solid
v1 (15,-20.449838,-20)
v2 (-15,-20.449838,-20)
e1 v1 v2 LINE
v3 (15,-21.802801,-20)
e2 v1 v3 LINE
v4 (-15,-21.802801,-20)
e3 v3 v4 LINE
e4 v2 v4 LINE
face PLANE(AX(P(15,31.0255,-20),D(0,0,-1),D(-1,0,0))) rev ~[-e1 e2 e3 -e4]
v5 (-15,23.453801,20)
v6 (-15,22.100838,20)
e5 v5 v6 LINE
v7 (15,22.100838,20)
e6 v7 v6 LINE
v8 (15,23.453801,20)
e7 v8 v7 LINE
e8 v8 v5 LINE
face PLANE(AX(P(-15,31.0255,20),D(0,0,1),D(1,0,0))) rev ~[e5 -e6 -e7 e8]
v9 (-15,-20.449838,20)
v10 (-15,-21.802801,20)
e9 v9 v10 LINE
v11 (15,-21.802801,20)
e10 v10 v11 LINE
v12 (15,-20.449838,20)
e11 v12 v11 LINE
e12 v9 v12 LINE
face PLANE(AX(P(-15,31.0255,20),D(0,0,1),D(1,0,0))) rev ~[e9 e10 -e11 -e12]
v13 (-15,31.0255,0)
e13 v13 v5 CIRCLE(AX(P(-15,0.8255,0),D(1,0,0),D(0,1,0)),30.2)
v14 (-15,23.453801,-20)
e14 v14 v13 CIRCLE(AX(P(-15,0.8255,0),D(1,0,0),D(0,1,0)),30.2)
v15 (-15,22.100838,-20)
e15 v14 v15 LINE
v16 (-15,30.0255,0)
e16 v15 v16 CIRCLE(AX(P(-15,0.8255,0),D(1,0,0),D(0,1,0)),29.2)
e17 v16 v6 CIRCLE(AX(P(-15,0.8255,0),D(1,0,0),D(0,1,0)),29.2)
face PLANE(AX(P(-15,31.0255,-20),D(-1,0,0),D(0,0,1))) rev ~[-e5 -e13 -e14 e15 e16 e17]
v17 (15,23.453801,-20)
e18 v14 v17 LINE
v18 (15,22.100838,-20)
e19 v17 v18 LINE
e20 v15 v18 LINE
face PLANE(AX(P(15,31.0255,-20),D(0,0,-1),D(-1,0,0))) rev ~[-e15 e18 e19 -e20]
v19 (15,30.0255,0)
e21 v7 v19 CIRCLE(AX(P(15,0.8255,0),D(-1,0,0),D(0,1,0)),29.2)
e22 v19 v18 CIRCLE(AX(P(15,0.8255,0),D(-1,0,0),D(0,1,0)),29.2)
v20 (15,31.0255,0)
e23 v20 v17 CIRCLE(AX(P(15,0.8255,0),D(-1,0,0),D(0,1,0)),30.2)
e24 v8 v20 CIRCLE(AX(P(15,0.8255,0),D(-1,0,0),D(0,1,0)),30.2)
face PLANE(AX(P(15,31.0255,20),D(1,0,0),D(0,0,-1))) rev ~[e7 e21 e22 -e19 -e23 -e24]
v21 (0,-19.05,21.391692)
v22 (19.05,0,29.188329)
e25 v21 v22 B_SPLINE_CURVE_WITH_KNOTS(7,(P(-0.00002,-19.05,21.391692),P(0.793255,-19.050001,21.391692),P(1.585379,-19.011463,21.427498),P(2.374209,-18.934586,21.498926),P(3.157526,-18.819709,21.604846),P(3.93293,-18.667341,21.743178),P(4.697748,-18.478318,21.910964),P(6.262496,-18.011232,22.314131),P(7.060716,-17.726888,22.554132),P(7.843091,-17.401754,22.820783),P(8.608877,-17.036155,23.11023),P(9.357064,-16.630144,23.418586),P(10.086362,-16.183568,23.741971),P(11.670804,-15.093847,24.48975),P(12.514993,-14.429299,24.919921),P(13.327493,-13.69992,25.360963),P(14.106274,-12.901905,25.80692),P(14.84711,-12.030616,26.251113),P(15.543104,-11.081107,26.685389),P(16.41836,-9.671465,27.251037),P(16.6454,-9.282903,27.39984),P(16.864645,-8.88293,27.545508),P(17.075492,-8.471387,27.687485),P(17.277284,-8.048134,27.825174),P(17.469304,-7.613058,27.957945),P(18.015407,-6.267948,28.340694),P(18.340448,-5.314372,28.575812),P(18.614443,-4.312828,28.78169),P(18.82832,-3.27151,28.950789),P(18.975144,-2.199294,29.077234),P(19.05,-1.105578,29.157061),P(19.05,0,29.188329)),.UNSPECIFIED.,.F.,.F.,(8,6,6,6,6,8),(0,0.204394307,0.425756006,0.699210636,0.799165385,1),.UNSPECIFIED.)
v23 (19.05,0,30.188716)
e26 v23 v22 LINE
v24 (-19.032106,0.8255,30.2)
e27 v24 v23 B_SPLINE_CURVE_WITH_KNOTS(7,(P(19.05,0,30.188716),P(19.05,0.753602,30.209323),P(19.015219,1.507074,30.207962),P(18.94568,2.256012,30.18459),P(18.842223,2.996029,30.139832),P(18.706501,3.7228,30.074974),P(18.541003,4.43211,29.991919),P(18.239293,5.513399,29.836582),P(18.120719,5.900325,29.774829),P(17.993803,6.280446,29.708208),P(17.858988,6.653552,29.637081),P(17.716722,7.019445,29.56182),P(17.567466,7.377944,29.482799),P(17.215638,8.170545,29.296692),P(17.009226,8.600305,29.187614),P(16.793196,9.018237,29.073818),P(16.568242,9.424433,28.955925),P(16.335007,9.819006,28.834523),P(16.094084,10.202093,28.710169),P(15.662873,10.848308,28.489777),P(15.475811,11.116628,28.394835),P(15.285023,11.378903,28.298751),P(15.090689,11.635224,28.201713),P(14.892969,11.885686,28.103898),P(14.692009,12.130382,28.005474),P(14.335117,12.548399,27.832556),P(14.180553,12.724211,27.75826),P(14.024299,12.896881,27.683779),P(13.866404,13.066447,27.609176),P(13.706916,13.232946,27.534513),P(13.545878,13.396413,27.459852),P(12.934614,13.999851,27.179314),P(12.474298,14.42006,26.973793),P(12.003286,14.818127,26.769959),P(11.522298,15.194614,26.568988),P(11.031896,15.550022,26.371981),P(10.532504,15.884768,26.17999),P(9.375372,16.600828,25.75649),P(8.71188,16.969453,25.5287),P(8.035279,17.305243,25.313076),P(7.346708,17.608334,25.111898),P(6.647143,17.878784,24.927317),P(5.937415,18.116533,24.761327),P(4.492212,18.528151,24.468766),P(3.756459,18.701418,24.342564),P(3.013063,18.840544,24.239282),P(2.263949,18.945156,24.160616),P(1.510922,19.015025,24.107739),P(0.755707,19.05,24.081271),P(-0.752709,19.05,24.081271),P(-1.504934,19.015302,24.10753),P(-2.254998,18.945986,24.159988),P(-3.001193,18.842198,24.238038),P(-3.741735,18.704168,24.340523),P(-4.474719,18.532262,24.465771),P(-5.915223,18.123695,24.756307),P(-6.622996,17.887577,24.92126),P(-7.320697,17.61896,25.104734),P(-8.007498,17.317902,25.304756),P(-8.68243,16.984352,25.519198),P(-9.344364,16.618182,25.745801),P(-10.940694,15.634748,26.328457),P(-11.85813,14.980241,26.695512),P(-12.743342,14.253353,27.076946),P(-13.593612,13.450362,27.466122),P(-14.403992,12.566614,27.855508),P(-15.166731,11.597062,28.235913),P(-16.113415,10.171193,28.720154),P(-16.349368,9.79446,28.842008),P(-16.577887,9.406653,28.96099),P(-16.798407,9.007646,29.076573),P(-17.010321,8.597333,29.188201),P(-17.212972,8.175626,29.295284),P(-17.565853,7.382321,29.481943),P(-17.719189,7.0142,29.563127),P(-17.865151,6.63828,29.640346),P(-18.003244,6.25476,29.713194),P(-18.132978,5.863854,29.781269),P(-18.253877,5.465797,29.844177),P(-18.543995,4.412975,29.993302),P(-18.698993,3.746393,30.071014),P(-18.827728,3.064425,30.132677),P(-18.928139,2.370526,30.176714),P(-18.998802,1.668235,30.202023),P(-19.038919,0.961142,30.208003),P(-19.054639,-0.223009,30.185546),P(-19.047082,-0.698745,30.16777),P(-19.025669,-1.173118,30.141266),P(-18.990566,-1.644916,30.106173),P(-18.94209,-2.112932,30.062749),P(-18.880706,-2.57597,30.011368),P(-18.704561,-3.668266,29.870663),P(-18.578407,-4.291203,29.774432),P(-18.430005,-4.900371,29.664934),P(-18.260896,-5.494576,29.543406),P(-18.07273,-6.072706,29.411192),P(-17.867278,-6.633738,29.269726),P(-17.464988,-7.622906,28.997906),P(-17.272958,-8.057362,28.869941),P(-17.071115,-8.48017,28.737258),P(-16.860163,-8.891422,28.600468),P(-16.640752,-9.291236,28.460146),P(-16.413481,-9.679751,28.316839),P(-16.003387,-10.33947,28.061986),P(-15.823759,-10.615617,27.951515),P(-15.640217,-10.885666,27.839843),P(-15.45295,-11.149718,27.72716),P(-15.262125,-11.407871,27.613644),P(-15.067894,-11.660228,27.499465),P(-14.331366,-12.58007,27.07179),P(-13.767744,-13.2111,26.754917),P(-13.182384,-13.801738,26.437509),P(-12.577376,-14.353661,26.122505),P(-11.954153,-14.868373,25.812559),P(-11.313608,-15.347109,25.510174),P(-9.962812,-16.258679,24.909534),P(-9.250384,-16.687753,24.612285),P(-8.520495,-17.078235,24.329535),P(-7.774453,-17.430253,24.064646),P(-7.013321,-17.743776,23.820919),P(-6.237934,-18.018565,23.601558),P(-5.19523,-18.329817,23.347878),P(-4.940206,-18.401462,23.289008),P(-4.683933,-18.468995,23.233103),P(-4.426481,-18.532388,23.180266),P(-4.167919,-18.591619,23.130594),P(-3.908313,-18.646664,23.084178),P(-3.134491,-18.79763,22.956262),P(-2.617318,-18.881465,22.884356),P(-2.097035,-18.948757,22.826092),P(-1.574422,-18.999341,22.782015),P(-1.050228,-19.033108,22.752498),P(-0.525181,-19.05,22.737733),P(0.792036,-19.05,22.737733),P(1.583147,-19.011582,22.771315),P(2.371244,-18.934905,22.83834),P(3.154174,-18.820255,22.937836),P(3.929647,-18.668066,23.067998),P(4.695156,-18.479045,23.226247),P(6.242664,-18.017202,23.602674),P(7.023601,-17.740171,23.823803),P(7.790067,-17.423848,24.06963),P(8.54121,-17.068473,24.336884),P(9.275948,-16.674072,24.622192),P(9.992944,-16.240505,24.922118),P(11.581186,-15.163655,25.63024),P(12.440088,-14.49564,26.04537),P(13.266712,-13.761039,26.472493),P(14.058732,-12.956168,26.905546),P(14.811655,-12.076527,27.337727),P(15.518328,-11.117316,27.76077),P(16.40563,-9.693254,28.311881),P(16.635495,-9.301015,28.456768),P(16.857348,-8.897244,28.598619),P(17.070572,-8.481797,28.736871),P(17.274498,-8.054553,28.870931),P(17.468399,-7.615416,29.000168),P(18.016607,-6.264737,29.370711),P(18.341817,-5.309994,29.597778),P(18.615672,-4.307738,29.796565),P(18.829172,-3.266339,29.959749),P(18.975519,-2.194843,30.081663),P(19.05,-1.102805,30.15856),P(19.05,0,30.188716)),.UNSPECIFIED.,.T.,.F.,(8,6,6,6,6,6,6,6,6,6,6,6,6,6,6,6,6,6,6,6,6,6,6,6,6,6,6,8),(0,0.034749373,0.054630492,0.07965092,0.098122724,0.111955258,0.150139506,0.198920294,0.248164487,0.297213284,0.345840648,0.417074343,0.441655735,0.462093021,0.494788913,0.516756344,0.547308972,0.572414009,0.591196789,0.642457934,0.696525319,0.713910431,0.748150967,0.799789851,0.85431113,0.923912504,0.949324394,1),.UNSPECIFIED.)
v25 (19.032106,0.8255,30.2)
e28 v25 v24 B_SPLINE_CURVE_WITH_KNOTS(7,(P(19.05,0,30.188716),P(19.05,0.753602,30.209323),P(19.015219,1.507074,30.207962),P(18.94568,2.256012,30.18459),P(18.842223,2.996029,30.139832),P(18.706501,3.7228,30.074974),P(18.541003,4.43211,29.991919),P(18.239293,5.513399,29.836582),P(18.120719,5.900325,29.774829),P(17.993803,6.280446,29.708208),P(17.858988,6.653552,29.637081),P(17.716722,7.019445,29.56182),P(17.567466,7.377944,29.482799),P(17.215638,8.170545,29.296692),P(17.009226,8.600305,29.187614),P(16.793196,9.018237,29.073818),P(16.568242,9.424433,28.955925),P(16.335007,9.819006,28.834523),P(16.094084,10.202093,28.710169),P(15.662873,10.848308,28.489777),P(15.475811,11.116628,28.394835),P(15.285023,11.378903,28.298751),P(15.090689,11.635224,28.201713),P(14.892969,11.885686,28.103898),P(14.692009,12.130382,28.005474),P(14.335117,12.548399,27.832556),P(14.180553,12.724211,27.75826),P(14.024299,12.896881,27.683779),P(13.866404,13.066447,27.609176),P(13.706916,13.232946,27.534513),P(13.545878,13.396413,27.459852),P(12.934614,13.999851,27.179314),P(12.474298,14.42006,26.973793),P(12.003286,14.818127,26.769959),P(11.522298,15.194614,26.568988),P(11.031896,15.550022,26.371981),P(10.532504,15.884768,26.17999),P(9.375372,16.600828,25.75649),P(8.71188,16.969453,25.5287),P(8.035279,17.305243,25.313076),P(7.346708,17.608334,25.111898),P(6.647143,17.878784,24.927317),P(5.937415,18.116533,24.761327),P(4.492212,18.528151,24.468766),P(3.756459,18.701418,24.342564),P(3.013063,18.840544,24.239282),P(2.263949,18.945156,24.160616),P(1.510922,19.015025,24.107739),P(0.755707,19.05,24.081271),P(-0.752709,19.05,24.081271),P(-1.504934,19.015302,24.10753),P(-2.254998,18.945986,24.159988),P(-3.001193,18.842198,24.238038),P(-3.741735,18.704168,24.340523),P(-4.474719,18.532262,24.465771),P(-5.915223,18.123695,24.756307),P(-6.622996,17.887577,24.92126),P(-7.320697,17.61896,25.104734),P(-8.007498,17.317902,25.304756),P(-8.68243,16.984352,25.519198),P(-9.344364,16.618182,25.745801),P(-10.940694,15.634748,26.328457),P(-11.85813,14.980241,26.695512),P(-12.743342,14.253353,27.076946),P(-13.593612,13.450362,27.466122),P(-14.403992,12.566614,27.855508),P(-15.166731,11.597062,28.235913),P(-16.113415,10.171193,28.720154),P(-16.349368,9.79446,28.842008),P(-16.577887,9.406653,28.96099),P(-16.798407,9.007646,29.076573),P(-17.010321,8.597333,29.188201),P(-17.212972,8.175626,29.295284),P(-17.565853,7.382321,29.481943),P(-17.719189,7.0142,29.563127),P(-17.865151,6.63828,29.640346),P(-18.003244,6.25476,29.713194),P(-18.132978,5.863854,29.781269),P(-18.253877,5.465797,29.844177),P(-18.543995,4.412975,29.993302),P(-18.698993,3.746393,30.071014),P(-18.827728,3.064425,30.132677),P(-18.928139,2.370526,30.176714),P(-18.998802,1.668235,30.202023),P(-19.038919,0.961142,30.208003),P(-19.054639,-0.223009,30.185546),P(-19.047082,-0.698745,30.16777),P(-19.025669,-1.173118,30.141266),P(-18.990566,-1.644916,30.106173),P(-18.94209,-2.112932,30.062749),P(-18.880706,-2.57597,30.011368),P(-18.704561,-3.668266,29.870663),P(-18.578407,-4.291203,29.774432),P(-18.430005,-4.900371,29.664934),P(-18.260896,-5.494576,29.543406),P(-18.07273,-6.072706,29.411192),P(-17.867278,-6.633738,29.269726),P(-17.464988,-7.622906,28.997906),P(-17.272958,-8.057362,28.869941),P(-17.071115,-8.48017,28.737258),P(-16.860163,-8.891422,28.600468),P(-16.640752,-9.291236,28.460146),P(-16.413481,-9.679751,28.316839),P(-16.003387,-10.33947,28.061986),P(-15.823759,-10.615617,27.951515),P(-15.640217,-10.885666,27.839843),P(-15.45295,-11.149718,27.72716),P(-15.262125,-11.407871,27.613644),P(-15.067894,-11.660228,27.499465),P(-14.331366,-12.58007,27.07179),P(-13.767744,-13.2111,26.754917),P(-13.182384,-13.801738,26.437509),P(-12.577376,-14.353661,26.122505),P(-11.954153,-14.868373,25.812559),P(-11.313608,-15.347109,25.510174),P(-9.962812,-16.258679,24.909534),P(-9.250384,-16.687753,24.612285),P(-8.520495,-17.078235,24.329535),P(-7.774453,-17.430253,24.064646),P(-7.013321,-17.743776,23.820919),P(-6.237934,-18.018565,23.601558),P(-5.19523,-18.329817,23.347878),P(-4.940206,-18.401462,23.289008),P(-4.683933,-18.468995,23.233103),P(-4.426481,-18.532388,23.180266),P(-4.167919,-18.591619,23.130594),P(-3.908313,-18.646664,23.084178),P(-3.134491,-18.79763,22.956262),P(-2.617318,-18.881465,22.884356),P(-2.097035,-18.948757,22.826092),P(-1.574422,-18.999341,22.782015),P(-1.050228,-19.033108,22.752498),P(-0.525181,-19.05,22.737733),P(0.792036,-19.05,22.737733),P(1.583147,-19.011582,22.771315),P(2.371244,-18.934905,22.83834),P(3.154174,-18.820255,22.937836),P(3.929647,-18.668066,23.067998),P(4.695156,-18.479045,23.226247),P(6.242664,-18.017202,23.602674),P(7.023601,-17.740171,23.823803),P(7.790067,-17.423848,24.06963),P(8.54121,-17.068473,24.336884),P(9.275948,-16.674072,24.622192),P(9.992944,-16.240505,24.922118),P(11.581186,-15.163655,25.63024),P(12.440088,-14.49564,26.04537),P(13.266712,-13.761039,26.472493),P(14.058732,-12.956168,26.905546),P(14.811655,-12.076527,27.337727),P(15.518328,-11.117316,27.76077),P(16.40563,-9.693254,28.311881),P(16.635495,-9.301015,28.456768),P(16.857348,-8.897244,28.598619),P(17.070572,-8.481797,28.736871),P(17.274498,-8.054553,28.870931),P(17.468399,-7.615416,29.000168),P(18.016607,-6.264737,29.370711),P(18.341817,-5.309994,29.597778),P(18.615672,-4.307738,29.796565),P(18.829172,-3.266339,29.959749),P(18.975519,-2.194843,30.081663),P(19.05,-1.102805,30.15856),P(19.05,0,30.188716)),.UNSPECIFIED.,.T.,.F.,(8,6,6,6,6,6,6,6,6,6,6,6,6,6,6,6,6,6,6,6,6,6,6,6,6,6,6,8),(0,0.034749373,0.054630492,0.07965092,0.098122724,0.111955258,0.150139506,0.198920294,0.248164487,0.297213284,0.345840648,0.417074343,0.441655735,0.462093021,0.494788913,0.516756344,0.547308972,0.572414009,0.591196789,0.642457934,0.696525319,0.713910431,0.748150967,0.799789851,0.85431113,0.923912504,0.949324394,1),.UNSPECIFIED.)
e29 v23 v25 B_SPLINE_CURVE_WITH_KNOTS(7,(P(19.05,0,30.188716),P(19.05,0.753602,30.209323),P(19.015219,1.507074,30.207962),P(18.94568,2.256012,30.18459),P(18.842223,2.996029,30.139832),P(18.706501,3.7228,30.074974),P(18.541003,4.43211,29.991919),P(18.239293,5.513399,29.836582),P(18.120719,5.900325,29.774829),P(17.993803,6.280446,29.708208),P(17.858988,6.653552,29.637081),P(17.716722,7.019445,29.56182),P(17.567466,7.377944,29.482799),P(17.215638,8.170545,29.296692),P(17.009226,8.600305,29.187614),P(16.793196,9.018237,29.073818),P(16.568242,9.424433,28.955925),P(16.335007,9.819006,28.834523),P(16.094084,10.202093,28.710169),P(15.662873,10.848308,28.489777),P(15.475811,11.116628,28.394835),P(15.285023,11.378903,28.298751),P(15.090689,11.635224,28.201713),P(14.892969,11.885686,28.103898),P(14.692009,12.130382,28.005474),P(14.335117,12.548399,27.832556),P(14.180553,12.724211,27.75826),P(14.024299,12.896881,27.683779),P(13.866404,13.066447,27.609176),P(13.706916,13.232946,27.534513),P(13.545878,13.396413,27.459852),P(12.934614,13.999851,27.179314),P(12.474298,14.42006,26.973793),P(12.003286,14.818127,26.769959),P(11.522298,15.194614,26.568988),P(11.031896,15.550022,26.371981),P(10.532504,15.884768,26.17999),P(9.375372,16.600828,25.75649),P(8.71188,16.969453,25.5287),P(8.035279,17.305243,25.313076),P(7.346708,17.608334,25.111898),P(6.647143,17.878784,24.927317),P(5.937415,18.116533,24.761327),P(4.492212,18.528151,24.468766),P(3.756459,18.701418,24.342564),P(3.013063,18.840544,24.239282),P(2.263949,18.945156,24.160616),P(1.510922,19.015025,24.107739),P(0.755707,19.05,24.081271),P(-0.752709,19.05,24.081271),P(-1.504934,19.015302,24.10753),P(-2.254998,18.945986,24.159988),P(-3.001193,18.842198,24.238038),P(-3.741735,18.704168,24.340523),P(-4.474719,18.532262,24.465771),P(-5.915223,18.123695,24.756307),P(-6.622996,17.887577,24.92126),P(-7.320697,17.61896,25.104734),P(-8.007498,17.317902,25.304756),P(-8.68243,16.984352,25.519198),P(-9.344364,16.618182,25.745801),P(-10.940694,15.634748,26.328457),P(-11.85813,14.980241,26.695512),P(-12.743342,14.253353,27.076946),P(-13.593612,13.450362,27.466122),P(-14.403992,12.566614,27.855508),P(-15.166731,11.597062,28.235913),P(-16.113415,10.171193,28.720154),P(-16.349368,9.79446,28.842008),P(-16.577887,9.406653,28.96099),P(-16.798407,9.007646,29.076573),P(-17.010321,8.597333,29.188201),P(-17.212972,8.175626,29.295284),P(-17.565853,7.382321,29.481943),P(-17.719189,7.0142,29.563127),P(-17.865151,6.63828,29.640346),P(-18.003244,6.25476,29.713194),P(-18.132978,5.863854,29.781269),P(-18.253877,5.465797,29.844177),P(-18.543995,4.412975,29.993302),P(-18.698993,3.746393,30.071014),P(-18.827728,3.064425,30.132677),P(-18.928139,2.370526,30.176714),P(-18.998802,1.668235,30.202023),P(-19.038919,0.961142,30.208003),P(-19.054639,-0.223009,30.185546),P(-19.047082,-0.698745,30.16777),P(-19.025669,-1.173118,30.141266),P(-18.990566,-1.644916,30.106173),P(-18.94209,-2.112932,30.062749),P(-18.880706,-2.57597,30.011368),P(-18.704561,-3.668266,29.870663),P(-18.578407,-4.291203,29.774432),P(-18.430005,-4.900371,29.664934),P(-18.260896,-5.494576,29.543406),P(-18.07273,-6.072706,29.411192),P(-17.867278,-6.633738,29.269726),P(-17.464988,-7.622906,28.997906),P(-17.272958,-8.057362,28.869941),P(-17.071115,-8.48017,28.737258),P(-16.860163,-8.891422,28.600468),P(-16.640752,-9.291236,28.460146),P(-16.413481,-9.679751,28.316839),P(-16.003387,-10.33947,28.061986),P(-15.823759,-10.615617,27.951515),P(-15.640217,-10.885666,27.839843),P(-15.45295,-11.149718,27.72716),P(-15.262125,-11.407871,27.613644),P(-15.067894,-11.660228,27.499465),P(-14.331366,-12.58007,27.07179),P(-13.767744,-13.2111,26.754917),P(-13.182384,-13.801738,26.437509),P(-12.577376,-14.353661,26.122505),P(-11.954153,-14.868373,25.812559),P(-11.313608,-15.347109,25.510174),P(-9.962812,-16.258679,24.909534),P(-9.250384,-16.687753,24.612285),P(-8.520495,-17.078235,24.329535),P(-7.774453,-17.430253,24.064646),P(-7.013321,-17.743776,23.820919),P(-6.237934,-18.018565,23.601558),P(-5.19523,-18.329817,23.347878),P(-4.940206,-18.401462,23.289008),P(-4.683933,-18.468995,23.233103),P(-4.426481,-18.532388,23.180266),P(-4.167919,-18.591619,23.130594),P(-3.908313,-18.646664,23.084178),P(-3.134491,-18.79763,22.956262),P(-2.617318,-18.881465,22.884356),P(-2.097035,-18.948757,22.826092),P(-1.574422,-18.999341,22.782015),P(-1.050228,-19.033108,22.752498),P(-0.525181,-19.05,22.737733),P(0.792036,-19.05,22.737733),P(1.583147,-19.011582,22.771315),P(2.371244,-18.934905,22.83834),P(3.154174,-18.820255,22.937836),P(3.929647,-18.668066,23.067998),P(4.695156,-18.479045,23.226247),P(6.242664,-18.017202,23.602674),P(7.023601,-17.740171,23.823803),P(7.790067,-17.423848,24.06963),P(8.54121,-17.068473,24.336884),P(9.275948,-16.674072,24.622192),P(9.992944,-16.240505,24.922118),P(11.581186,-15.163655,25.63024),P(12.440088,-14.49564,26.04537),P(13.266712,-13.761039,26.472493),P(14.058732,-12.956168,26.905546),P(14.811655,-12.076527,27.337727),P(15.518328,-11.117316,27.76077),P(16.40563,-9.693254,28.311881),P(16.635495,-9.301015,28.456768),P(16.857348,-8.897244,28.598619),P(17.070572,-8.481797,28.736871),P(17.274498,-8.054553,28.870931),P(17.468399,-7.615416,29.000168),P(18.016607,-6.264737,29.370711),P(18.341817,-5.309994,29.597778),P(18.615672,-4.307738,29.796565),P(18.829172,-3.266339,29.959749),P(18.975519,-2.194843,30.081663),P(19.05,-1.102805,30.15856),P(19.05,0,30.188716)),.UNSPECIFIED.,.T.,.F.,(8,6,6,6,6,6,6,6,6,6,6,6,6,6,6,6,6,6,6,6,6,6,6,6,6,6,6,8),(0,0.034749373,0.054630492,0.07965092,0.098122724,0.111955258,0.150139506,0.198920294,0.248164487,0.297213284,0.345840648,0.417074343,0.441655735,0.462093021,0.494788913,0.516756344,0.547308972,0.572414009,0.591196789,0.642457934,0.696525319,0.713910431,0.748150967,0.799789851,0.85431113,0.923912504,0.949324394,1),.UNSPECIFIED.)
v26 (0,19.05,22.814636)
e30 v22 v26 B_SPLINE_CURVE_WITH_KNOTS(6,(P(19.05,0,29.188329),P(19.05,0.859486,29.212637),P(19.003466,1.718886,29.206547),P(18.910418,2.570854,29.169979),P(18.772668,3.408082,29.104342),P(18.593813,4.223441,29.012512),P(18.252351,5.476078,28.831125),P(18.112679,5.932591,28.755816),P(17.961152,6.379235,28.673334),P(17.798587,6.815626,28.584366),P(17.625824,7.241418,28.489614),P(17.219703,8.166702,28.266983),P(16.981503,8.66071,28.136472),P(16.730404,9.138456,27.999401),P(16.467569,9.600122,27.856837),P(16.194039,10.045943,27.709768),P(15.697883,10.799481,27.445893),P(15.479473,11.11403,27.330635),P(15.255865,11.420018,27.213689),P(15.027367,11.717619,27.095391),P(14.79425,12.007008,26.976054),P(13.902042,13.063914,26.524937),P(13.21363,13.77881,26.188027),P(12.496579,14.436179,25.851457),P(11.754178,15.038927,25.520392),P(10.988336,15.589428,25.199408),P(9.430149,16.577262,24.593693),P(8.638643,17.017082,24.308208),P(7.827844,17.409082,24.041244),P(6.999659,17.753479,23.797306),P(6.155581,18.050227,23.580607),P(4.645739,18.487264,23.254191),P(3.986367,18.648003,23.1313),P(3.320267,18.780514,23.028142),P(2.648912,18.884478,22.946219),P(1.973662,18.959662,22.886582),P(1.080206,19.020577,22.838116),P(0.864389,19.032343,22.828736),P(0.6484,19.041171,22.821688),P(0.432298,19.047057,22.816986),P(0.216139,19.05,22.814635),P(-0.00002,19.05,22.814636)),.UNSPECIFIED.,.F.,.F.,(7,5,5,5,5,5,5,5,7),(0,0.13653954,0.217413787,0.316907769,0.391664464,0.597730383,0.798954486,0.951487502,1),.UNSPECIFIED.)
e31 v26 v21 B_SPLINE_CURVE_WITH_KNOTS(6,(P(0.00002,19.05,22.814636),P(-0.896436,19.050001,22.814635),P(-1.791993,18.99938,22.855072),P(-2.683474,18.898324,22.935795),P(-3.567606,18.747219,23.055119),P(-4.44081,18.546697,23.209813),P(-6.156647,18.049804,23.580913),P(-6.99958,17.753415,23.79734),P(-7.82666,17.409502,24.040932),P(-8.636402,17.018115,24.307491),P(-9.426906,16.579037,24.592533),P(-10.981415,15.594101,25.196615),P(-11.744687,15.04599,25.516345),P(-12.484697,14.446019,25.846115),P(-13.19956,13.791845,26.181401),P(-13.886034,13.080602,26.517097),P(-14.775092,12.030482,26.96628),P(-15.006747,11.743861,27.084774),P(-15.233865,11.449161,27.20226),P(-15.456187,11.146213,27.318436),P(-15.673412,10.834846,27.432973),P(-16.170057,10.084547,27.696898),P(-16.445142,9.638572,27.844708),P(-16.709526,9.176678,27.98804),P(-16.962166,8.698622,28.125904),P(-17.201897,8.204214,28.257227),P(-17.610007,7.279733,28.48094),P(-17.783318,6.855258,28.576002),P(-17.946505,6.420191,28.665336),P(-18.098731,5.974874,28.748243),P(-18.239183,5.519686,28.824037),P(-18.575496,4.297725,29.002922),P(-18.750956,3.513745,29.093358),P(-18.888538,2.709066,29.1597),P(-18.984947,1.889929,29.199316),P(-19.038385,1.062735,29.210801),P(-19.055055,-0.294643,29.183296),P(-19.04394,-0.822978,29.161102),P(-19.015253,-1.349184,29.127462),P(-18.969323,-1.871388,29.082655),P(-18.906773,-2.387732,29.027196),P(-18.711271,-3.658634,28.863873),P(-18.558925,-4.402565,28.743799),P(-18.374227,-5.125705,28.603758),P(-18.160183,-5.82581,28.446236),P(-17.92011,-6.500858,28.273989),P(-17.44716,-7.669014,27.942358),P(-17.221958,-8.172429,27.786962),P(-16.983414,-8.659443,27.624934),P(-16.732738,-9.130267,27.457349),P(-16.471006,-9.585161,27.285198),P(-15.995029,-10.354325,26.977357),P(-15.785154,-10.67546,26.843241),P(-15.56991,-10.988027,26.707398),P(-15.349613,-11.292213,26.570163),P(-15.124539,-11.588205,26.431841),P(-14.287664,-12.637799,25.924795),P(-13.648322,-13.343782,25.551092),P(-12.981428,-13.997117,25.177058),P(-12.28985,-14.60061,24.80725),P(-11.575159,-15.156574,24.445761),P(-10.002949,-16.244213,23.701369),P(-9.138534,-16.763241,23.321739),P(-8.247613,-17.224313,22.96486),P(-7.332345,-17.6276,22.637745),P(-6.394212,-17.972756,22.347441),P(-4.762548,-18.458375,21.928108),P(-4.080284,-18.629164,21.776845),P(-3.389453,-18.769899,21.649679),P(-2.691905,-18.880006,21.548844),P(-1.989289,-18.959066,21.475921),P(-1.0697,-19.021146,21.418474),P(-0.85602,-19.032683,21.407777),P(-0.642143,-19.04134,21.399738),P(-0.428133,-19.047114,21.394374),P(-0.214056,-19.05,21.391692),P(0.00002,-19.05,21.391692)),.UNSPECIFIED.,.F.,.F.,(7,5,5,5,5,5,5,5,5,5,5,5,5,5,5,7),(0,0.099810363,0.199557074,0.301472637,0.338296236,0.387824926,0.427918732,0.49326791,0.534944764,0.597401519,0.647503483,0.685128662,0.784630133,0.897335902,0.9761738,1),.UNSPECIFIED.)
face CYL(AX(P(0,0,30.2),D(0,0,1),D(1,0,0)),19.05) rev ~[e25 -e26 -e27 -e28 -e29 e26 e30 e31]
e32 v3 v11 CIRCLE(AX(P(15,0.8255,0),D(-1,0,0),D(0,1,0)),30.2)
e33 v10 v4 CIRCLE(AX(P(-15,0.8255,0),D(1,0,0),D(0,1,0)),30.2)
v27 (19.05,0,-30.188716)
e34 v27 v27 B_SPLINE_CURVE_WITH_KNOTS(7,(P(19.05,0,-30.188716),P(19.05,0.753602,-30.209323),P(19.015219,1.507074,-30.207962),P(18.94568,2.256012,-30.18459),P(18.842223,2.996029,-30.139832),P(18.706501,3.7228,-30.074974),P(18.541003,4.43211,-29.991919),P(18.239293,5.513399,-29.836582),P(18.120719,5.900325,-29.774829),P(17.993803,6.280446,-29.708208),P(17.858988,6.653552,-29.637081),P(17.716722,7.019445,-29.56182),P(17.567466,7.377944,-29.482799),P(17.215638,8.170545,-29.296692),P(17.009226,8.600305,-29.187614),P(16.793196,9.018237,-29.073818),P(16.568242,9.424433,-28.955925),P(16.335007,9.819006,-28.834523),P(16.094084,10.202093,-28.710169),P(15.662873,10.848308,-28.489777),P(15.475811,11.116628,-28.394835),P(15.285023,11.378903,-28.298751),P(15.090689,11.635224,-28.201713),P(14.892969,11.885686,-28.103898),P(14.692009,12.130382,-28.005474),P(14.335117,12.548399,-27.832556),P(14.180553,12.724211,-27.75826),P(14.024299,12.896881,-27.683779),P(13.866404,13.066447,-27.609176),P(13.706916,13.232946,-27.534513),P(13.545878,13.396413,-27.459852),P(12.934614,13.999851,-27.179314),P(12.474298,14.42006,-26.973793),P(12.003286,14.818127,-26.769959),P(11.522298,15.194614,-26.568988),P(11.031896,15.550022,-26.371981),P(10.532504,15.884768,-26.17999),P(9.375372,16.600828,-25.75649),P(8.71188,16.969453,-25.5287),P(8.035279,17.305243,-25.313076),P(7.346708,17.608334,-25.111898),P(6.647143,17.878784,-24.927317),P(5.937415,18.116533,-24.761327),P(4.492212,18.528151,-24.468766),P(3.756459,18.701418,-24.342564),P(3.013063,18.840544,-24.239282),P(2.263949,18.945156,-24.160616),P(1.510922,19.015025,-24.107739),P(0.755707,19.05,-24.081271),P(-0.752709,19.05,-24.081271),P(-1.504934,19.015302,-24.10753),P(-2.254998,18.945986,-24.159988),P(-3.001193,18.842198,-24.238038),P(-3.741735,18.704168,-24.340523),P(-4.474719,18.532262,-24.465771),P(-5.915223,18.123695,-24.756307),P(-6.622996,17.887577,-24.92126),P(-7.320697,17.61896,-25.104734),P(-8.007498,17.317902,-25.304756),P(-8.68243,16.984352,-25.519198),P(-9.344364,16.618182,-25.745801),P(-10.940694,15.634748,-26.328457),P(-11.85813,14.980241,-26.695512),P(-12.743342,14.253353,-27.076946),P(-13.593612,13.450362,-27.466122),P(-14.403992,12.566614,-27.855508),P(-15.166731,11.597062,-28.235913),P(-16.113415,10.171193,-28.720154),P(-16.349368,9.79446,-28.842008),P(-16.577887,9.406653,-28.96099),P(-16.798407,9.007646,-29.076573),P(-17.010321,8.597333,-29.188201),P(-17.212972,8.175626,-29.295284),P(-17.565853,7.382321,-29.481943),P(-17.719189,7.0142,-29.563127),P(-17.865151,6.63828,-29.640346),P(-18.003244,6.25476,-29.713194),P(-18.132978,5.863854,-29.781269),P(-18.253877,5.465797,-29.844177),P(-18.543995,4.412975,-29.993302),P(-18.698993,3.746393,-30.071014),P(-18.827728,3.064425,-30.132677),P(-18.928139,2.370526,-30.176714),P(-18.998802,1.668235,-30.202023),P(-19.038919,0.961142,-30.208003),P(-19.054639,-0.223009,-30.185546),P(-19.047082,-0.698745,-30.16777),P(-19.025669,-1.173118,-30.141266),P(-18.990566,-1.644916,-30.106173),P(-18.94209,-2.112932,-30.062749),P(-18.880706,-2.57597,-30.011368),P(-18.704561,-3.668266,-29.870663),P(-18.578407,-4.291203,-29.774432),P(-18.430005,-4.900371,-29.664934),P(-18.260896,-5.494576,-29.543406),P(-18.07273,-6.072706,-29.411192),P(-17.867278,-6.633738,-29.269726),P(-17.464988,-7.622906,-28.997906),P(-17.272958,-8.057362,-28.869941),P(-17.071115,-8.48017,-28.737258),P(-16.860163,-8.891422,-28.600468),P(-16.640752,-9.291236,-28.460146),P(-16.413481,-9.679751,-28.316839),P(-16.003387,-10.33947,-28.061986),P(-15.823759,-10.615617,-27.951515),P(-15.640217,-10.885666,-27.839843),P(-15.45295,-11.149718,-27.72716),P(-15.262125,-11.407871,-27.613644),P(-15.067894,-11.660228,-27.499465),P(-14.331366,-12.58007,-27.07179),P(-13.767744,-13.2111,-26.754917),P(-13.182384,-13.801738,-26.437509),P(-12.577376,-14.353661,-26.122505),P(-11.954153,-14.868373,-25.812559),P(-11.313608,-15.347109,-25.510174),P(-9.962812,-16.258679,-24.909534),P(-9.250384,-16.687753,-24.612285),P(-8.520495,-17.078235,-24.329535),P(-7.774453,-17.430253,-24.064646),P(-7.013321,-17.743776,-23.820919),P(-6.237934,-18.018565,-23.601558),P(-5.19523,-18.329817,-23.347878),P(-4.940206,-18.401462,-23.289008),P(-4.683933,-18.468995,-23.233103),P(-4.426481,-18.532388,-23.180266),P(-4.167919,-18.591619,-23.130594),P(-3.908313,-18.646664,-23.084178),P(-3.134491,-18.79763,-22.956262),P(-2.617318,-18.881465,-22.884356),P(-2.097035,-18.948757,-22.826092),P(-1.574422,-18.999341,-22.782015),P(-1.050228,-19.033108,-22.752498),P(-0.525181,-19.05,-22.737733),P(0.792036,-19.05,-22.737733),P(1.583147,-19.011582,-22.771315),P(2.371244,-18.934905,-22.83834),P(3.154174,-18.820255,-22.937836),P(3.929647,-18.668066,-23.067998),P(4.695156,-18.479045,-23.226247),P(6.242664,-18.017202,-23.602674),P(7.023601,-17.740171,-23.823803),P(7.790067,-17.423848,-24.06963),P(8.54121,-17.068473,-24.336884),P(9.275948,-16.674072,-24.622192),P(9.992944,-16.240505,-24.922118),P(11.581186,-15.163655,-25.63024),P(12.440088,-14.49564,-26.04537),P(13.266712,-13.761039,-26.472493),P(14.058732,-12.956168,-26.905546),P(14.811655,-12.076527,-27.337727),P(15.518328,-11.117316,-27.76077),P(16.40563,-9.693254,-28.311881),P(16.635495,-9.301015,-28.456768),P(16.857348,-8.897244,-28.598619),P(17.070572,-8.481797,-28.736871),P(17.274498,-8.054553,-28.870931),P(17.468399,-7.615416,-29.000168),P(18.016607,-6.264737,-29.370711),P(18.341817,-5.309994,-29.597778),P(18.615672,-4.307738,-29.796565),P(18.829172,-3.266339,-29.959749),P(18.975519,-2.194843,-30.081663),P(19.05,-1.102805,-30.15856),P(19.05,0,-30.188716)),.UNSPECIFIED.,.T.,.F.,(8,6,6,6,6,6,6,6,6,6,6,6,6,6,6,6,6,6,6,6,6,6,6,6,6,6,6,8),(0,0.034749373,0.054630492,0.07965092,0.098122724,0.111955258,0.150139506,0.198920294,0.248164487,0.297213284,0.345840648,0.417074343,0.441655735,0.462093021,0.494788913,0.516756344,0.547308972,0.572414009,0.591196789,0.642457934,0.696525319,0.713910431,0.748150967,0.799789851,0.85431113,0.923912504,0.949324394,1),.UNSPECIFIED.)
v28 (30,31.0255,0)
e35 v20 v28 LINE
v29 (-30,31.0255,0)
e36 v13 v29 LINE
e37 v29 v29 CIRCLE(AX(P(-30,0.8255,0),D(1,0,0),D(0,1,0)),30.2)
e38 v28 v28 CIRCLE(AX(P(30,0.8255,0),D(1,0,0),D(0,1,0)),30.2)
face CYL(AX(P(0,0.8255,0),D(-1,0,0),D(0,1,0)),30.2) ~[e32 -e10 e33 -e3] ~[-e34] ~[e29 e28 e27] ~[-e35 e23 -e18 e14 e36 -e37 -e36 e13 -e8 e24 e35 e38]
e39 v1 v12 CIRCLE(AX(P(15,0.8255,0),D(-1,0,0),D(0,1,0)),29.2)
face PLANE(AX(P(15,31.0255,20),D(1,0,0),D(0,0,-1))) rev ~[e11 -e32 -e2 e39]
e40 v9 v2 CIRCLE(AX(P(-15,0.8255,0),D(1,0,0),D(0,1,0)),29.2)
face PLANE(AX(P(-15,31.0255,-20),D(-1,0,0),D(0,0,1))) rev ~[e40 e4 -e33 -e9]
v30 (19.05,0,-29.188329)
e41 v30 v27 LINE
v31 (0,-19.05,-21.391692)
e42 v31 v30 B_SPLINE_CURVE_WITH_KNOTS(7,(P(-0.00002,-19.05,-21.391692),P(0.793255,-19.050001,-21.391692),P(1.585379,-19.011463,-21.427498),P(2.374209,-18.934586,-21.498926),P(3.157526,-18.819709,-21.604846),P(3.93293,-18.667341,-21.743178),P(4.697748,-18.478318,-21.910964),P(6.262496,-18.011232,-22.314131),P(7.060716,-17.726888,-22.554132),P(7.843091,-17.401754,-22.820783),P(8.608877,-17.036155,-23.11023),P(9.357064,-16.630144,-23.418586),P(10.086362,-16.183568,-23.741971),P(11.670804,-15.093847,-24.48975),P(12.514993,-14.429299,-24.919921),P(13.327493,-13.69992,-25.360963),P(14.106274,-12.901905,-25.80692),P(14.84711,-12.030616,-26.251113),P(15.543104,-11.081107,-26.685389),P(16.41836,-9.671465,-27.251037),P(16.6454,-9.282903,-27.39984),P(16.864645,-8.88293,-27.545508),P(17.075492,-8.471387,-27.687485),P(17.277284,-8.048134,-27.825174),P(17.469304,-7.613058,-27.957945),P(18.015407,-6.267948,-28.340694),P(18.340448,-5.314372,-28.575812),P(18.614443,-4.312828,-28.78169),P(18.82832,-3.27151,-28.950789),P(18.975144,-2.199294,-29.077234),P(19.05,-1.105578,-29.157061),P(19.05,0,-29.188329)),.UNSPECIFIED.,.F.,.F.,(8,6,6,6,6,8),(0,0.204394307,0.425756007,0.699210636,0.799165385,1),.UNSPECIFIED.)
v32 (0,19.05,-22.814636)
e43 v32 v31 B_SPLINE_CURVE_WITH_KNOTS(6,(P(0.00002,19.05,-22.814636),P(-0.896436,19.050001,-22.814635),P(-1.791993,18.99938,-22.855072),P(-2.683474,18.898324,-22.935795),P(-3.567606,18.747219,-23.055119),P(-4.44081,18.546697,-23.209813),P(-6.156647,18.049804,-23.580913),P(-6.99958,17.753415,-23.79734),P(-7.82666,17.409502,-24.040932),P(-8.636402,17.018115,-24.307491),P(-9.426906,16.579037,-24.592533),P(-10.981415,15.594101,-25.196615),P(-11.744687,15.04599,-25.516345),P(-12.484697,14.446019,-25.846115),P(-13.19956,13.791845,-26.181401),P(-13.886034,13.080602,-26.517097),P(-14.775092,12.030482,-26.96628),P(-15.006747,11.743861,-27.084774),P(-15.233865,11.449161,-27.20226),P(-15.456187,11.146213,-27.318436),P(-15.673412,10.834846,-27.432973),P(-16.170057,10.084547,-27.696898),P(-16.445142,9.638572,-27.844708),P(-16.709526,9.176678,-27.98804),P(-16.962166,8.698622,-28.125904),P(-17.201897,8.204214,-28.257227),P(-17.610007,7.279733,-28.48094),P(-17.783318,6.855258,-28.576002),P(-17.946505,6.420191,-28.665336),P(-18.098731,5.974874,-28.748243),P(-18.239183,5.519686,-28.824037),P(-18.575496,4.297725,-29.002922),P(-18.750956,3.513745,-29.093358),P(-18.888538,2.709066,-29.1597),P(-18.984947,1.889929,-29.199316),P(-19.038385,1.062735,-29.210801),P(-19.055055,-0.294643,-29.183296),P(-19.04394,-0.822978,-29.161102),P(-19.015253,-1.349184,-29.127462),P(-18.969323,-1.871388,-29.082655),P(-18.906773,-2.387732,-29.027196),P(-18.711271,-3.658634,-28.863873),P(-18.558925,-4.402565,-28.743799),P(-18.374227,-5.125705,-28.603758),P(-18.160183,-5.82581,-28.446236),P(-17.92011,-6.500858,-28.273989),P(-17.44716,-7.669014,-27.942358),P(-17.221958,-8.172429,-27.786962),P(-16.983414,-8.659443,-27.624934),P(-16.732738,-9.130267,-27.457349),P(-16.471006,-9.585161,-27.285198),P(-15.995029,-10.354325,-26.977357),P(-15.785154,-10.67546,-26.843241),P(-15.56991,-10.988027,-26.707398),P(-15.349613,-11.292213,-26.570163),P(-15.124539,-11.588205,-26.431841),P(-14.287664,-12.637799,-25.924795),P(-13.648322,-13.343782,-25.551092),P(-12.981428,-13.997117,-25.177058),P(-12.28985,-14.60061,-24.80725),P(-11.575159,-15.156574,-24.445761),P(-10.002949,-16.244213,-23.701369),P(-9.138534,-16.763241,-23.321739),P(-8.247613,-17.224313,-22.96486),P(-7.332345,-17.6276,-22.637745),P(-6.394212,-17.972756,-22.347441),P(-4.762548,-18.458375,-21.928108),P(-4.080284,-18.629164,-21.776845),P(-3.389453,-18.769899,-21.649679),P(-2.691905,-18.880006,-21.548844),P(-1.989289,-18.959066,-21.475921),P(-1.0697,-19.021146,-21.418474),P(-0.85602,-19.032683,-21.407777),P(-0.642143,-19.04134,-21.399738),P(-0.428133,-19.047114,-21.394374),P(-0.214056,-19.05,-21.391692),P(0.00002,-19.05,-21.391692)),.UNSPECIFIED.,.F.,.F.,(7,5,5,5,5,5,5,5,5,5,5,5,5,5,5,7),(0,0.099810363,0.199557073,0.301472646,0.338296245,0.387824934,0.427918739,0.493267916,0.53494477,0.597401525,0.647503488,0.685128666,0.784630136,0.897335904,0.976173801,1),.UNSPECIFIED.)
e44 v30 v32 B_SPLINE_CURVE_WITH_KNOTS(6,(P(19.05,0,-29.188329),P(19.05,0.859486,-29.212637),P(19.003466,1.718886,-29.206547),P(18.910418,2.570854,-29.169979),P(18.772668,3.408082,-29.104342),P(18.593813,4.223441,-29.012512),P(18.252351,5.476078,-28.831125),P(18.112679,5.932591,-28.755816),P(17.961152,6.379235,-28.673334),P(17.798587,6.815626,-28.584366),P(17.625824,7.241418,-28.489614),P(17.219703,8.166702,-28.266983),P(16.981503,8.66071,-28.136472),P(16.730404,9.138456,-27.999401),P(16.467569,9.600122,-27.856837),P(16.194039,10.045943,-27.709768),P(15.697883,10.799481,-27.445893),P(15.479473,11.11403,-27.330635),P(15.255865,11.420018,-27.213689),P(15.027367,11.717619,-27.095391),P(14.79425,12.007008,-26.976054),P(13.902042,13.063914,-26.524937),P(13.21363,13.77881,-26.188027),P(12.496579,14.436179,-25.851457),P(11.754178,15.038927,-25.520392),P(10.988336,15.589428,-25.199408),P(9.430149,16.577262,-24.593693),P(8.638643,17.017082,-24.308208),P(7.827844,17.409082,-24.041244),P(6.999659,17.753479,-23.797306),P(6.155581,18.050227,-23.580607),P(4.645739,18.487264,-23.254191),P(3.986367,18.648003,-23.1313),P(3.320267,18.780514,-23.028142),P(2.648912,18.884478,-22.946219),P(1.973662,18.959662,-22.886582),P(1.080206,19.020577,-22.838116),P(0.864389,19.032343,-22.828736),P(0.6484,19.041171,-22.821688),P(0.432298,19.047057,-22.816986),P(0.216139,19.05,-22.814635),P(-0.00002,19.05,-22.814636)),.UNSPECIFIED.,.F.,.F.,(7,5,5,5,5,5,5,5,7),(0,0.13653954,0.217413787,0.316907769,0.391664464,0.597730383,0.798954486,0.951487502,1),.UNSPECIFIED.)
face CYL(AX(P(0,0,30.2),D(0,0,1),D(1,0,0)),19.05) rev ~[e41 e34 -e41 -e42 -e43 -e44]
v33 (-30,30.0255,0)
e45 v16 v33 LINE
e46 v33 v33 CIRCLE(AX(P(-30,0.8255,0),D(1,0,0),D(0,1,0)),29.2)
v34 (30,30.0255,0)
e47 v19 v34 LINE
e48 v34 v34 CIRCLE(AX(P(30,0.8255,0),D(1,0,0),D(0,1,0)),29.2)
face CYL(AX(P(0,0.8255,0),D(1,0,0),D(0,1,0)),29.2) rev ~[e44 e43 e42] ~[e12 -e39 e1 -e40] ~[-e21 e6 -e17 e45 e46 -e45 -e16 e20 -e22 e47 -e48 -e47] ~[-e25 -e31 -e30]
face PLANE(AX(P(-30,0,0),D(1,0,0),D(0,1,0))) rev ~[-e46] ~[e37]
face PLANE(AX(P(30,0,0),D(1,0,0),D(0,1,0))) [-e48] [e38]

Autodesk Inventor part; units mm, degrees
ref_plane "YZ Plane" through (0, 0, 0) normal (1, 0, 0) x (0, 1, 0)
sketch "Sketch1" plane through (0, 0, 0) normal (1, 0, 0) x (0, 1, 0)
  circle A0 centre (0.8255, 0) radius 29.2
  circle A1 centre (0.8255, 0) radius 30.2
  point P0 (0, 0)
  dimension "d0" = 58.4
  dimension "d1" = 60.4
extrude "Extrusion1" add sketch "Sketch1" along normal mid plane 60
ref_plane "Work Plane1" through (0, 31.0255, 0) normal (0, 1, 0) x (-1, 0, 0)
sketch "Sketch2" plane through (0, 31.0255, 0) normal (0, 1, 0) x (-1, 0, 0)
  line L0 (-15, -20) -> (15, -20)
  line L1 (15, -20) -> (15, 20)
  line L2 (15, 20) -> (-15, 20)
  line L3 (-15, 20) -> (-15, -20)
  line L4 (-15, -20) -> (15, 20) construction
  line L5 (15, -20) -> (-15, 20) construction
  point P0 (0, 0)
  dimension "d4" = 30
  dimension "d5" = 40
extrude "Extrusion2" cut sketch "Sketch2" against normal blind 80
ref_plane "Work Plane2" through (0, 0.8255, 30.2) normal (0, 0, 1) x (1, 0, 0)
sketch "Sketch3" plane through (0, 0.8255, 30.2) normal (0, 0, 1) x (1, 0, 0)
  circle A0 centre (0, -0.8255) radius 19.05
  dimension "d8" = 38.1
extrude "Extrusion3" cut sketch "Sketch3" against normal blind 80
properties part number "scatterBlock"
